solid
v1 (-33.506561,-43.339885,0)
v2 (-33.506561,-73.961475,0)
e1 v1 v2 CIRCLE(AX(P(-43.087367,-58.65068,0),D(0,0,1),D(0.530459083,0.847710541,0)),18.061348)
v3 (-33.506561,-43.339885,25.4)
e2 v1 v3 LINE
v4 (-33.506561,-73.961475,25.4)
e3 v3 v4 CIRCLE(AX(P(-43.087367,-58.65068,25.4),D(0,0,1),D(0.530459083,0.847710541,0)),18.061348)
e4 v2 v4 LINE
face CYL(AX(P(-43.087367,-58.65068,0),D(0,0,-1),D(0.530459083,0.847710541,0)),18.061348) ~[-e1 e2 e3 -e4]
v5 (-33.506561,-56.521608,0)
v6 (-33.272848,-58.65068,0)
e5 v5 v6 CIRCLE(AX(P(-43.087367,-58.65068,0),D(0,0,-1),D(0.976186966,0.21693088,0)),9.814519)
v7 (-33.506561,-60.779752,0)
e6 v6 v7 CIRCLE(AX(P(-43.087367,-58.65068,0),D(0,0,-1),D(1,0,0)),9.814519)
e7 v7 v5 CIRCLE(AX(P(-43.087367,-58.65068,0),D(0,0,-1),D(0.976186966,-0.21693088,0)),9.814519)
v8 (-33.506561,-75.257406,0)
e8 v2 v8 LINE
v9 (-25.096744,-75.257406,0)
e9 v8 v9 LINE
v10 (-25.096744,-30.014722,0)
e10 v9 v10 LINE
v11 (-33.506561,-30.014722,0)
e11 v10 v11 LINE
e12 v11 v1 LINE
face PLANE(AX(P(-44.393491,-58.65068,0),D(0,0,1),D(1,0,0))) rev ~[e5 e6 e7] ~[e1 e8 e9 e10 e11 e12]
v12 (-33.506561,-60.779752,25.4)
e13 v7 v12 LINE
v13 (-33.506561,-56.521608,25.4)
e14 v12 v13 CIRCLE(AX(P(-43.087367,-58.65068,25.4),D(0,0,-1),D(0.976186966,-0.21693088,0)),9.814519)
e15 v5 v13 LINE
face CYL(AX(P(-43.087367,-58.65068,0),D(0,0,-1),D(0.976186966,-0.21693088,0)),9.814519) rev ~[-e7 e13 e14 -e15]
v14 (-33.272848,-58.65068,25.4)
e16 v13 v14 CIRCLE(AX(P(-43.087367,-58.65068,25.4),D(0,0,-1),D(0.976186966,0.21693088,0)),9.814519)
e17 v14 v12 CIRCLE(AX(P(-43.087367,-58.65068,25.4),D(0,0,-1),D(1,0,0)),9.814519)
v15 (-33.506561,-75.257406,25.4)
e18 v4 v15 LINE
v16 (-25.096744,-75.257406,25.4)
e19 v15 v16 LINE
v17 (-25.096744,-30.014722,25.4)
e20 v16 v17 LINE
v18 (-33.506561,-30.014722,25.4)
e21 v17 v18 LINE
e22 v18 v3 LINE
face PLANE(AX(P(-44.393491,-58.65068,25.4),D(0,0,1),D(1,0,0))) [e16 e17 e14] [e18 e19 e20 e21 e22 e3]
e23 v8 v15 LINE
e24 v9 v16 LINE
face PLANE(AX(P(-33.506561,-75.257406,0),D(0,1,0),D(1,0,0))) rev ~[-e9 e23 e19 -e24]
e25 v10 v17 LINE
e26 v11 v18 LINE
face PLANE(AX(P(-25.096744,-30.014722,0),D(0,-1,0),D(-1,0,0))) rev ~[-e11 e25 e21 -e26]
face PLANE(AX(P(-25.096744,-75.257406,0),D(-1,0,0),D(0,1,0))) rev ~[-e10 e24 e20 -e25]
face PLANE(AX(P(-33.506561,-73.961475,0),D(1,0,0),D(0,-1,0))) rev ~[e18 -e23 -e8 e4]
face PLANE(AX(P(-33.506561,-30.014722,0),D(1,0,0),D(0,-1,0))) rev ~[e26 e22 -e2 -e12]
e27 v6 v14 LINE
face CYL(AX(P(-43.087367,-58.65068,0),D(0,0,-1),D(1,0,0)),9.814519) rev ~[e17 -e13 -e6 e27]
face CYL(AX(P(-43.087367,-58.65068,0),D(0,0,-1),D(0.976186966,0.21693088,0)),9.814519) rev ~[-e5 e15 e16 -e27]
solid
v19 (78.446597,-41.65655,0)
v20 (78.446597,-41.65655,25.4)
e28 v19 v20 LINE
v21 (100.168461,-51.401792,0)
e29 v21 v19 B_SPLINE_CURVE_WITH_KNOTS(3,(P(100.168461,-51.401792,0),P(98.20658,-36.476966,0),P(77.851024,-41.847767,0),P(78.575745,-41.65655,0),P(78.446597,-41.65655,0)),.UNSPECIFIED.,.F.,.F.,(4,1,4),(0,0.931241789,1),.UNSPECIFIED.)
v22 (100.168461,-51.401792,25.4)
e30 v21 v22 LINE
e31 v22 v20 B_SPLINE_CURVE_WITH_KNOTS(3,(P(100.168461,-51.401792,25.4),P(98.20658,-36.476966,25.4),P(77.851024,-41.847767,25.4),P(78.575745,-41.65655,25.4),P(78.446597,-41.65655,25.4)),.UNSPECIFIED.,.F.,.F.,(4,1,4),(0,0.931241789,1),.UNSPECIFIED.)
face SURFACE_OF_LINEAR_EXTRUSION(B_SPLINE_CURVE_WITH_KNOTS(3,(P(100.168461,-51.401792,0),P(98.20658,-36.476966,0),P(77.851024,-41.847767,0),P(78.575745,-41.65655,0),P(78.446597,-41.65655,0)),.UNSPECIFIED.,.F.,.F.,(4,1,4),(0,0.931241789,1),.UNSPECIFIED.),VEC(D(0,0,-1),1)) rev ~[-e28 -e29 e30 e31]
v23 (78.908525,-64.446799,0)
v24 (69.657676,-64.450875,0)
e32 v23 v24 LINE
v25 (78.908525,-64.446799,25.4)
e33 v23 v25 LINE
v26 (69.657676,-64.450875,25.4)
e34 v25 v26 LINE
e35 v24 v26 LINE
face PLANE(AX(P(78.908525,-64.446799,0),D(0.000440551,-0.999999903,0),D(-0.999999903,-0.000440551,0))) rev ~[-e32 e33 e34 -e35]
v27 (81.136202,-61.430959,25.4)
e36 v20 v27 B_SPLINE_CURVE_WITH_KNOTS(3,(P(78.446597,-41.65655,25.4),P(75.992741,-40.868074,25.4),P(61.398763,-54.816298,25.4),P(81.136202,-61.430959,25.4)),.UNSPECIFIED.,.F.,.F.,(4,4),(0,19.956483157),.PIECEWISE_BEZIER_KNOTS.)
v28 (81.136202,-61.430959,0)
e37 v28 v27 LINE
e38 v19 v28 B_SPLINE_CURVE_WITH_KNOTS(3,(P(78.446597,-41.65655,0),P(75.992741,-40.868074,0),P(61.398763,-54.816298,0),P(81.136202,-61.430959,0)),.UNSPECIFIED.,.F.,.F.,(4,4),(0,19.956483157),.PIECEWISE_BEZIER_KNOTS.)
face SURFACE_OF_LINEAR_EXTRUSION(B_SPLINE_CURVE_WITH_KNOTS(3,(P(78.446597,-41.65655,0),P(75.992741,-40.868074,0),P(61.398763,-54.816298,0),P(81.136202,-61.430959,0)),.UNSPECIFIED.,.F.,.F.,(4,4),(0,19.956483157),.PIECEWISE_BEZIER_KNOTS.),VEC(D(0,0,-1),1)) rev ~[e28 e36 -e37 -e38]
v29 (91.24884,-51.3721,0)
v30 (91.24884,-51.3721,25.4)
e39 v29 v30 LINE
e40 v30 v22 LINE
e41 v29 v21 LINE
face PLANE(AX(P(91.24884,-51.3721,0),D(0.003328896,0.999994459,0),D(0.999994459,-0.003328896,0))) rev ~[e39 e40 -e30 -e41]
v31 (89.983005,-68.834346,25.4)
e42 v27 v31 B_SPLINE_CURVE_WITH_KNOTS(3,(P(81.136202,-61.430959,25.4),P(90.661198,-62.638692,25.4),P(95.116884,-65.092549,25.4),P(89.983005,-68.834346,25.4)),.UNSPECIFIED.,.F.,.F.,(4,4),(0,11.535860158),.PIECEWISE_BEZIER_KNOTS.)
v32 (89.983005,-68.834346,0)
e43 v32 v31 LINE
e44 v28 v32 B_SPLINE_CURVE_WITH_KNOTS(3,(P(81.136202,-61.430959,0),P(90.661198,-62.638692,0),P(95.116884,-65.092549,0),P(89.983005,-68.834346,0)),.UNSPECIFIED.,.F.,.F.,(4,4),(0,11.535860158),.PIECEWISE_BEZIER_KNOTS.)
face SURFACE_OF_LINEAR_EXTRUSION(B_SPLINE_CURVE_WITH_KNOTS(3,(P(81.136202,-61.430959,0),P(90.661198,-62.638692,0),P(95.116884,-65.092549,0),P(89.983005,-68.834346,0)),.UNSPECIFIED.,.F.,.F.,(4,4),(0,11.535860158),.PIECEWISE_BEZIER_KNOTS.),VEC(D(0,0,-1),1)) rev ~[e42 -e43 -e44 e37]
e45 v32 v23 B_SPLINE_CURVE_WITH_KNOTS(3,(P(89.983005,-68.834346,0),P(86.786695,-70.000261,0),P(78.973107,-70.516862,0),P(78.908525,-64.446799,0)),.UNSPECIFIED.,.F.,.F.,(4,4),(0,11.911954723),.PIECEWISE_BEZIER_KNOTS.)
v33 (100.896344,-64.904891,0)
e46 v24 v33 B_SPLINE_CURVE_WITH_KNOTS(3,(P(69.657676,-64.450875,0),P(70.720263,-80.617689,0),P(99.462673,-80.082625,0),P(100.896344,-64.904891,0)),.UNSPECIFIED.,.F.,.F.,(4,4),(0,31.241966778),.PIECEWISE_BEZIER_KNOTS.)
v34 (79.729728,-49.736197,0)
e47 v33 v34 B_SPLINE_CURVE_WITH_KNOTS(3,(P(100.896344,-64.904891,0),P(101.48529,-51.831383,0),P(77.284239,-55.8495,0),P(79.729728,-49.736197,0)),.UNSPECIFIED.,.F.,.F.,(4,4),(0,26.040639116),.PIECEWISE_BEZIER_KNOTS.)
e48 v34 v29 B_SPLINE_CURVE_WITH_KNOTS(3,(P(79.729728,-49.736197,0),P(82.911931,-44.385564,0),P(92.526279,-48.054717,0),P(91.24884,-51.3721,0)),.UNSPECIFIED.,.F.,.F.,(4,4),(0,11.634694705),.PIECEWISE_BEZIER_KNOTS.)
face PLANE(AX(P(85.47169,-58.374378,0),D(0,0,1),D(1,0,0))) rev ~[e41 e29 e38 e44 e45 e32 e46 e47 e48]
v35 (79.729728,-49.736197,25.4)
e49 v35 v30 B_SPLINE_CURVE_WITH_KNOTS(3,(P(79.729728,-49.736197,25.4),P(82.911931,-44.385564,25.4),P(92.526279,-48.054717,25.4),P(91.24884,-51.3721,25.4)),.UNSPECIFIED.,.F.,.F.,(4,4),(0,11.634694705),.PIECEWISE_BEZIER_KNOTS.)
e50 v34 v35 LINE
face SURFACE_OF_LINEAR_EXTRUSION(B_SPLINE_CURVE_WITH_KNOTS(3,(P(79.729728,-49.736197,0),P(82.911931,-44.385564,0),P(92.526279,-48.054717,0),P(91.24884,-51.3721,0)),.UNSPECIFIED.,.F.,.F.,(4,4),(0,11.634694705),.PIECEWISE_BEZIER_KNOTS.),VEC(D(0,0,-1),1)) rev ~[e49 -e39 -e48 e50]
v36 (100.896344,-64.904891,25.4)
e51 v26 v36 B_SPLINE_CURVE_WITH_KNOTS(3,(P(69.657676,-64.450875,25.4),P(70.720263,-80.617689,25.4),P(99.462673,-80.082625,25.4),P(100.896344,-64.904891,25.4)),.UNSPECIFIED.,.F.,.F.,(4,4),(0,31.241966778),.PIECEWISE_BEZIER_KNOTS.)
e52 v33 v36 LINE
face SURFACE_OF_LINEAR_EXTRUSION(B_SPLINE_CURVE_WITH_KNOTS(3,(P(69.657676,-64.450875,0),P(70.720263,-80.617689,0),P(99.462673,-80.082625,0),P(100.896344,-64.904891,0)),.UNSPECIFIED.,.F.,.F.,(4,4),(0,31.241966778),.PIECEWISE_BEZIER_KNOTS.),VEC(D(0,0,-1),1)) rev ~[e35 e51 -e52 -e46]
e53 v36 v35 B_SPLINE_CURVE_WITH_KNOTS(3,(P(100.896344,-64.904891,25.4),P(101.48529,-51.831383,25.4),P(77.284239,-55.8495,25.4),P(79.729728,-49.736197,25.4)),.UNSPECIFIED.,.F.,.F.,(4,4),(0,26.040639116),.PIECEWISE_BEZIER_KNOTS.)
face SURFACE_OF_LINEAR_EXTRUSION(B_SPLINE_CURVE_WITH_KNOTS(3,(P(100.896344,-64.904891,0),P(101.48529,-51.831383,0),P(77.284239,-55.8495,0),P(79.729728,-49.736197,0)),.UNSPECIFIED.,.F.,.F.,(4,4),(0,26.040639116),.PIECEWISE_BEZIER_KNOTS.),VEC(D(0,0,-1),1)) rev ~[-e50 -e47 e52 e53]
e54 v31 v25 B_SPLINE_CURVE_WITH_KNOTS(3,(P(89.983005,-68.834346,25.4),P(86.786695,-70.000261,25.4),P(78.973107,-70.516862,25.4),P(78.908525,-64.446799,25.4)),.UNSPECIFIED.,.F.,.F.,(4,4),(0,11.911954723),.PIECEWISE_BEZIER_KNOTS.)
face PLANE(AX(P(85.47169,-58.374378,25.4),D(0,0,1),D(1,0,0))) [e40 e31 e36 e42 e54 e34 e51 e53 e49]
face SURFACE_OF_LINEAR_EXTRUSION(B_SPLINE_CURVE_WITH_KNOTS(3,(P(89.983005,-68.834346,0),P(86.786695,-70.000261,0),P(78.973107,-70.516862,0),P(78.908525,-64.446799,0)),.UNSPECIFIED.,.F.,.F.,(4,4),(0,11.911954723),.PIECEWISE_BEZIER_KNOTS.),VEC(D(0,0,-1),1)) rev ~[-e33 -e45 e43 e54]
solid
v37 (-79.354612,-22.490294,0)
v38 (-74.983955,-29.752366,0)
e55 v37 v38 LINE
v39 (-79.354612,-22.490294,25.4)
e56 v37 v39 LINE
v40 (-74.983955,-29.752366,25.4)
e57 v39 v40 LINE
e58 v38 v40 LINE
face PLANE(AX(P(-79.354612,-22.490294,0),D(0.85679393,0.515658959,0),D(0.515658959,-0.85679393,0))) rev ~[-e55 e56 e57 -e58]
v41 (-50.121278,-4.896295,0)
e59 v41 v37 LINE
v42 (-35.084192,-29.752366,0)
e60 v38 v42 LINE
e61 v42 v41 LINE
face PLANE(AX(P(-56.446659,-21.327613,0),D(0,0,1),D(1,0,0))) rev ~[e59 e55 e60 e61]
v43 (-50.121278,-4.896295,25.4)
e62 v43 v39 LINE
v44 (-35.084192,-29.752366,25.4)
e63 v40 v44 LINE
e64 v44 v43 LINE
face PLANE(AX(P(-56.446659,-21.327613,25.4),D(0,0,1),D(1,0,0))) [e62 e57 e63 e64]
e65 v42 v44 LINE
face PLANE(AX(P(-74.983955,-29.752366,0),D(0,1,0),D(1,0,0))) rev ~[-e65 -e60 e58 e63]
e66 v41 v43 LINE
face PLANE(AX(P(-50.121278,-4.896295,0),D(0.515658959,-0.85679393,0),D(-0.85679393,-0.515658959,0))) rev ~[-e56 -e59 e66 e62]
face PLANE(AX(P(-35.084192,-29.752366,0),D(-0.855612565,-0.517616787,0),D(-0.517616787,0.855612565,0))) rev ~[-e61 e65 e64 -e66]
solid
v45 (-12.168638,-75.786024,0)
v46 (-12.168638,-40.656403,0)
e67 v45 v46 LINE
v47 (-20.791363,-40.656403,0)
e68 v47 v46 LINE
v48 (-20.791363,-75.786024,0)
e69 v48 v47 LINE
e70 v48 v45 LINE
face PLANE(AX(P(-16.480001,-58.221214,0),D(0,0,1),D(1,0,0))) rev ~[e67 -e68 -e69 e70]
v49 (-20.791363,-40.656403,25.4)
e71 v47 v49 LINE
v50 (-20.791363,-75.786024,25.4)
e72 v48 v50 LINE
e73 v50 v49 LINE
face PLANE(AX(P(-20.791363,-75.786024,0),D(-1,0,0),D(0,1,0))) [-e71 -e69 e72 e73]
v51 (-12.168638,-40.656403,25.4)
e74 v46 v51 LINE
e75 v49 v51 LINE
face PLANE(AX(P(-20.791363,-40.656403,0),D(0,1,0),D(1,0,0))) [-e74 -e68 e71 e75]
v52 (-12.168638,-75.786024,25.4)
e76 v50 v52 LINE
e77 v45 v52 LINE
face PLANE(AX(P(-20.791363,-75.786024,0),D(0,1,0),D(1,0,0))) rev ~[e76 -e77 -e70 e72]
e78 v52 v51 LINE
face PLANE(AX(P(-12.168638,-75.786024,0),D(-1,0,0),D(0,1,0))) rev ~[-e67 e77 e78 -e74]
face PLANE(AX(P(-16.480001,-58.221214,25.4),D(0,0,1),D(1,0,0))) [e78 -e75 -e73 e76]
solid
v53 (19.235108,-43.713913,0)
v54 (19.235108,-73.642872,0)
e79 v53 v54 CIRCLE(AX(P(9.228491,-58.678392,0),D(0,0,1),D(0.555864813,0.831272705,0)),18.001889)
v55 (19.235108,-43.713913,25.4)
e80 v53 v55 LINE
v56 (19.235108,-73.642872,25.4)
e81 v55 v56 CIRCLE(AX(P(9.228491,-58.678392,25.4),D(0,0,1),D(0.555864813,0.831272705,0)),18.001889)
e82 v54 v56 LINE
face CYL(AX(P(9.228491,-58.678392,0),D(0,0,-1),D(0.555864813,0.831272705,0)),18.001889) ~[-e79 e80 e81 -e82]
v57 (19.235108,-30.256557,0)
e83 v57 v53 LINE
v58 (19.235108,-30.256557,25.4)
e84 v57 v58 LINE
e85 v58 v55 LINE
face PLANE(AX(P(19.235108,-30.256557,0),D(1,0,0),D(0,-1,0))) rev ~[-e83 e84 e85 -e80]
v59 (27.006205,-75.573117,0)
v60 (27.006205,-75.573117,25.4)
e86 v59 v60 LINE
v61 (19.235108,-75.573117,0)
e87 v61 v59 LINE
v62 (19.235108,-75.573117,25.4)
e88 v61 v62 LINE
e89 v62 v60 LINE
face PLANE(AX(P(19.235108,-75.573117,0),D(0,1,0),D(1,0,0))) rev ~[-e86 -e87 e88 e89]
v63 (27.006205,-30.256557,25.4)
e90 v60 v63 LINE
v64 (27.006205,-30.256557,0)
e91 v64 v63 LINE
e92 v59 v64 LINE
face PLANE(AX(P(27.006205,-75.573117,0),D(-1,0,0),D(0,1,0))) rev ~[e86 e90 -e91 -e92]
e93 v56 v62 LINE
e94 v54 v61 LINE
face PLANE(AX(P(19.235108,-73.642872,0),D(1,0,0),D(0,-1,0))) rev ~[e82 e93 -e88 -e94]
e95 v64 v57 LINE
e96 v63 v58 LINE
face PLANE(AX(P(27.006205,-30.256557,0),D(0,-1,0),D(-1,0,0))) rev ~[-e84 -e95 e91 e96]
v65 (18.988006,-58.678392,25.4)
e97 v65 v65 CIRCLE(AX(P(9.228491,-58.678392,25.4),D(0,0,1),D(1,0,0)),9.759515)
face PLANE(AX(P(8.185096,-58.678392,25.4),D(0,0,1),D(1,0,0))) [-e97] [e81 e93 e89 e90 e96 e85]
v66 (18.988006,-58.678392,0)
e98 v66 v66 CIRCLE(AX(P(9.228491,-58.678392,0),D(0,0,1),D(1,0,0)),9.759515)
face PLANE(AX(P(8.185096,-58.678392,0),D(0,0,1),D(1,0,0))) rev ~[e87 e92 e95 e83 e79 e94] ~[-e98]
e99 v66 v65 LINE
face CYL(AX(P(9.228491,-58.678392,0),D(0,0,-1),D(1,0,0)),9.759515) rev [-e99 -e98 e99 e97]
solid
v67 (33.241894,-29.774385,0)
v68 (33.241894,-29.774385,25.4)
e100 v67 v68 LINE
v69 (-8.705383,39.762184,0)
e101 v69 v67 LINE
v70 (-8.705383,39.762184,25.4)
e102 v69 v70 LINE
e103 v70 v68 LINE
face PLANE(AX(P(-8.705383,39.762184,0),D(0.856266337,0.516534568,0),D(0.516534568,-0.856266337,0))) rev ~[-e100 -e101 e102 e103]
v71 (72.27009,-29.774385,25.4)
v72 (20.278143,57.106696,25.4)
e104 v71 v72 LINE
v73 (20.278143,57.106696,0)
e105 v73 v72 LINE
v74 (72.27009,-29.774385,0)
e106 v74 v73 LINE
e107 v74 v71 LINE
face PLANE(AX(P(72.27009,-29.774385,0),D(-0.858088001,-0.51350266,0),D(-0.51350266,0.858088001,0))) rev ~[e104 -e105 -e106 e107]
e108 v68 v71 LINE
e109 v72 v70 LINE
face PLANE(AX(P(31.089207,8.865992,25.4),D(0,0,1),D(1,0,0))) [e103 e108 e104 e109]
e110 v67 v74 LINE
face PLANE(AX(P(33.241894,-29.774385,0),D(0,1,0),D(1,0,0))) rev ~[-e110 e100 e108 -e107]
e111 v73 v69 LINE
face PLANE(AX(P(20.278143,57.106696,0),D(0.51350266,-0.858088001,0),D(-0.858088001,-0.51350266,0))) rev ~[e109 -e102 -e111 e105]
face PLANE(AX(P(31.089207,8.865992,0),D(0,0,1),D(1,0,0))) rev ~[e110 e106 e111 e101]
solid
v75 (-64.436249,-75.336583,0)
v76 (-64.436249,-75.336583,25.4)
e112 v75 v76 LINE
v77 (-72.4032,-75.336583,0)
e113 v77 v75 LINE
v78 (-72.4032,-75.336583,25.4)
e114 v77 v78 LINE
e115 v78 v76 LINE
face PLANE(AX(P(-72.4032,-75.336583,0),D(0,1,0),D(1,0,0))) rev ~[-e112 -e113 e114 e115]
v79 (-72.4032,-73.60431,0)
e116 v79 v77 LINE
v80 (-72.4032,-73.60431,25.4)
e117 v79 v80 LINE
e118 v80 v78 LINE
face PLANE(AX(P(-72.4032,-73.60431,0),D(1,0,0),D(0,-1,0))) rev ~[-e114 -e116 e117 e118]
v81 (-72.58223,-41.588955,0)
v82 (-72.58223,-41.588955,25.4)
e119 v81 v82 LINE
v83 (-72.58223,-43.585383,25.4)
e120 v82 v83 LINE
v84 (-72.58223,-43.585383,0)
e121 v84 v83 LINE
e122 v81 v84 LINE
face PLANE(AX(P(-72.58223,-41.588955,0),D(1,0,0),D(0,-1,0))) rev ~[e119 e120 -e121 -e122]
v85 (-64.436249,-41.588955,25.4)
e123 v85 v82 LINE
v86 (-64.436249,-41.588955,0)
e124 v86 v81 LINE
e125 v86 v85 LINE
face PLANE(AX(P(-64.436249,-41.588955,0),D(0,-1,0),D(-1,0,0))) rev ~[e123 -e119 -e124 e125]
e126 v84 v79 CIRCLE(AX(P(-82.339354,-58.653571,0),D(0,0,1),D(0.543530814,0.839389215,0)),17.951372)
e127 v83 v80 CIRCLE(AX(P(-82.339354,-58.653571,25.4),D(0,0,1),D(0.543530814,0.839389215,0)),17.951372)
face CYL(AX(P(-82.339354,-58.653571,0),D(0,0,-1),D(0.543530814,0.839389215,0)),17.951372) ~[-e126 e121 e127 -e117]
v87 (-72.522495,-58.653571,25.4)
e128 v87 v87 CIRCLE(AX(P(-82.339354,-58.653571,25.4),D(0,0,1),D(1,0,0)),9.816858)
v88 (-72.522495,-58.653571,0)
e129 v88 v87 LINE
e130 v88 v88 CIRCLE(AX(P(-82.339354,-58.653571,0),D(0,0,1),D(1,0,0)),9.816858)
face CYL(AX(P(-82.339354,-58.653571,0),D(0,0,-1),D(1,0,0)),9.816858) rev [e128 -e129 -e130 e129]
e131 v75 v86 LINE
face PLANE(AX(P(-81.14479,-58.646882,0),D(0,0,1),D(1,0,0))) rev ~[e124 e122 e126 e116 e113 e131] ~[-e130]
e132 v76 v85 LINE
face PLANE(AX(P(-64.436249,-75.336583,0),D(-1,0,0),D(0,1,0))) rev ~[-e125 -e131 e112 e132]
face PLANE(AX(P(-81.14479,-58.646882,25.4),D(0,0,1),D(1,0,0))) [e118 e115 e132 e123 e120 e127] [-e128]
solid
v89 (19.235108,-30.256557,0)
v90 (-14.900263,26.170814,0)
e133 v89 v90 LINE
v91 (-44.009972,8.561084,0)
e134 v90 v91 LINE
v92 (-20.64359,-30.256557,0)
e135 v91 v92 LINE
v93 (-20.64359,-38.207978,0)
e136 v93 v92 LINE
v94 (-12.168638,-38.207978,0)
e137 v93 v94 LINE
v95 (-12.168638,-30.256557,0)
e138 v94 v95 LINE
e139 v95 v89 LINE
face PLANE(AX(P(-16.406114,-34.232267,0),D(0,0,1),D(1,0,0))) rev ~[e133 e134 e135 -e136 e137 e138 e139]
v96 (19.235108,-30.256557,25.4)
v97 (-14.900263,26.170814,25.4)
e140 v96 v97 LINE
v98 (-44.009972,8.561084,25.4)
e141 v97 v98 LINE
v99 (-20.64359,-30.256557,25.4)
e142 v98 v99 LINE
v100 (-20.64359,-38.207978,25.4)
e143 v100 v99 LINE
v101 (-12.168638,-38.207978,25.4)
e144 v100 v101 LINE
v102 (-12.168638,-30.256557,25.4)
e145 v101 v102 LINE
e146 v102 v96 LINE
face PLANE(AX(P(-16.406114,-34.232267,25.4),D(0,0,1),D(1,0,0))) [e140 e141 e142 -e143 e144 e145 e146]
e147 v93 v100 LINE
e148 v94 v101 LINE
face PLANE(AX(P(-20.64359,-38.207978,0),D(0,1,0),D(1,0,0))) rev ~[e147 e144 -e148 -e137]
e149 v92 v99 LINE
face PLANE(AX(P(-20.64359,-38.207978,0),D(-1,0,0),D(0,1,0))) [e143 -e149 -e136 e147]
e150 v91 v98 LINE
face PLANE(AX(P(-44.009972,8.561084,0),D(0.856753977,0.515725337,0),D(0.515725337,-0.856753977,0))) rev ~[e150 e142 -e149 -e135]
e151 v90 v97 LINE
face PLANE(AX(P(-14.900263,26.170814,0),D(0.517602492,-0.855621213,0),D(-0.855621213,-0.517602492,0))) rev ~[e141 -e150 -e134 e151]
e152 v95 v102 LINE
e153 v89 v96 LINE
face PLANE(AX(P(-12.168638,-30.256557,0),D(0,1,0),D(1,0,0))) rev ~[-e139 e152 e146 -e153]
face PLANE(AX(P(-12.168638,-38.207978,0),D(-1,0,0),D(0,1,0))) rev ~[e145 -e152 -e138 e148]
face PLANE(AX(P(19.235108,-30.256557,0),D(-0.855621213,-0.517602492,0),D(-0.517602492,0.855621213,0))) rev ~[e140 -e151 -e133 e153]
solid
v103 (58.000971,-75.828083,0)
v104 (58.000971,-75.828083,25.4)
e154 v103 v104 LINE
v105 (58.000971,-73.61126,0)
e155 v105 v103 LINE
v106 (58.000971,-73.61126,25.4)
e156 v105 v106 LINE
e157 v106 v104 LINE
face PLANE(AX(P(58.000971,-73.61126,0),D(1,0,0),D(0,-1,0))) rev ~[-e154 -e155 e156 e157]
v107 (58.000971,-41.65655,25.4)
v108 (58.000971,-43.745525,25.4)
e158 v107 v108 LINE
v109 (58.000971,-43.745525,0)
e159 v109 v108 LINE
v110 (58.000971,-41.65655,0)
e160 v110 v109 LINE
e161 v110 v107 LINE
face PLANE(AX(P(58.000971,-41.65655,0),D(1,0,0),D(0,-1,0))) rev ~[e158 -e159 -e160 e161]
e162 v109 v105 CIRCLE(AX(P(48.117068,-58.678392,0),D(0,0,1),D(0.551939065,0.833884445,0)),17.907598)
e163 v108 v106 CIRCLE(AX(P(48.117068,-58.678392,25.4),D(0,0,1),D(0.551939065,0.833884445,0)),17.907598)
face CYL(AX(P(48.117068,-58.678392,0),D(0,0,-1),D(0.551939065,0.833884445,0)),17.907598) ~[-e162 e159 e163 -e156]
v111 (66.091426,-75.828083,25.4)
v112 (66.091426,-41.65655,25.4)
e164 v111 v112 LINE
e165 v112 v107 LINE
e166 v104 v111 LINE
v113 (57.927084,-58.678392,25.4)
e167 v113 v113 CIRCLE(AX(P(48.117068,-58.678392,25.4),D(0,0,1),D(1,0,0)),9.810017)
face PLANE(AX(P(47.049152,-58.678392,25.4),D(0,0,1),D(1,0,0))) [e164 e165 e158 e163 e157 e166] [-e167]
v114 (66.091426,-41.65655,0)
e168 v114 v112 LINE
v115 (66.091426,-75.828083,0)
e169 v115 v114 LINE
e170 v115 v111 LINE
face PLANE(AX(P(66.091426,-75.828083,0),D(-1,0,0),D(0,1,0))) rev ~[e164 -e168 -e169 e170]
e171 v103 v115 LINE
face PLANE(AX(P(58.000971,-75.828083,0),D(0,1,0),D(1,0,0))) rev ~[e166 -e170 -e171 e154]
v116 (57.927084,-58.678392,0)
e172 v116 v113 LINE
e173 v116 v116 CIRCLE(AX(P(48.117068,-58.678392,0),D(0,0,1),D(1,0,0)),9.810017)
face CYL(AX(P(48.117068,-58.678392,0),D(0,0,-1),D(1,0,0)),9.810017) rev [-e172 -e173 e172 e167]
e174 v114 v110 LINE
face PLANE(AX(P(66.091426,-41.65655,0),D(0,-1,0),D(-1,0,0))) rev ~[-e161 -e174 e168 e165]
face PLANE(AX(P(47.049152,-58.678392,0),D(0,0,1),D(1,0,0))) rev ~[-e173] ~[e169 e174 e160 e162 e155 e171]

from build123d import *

# Parameters (mm, degrees)
F0_R     = 9.8168583777
F1_DEPTH = 25.4
F0_W     = 8.6227245629
F0_H     = 35.1296216249
F0_W_2   = 8.4749514465
F0_H_2   = 7.9514212463
F0_R_2   = 9.7595146702
F0_R_3   = 9.8100166277


with BuildPart() as f1:
    # F0 (on Top) → F1 (new body)
    with BuildSketch(Plane.XY):
        with BuildLine():
            ThreePointArc((-64.4362494349, -57.3380434245), (-66.8940964115, -49.5050308039), (-72.5822299719, -43.5853825816))
            ThreePointArc((-72.5822299719, -43.5853825816), (-100.2904067139, -58.7606290674), (-72.4031999707, -73.6043100237))
            ThreePointArc((-72.4031999707, -73.6043100237), (-66.8398110404, -67.709835531), (-64.4362494349, -59.9690979987))
            Line((-64.4362494349, -59.9690979987), (-64.4362494349, -57.3380434245))
        make_face()
        with Locations((-82.3393538594, -58.6535707116)):
            Circle(F0_R, mode=Mode.SUBTRACT)
        with BuildLine():
            Line((-72.5822299719, -41.5889546275), (-72.5822299719, -43.5853825816))
            ThreePointArc((-72.5822299719, -43.5853825816), (-66.8940964115, -49.5050308039), (-64.4362494349, -57.3380434245))
            Line((-64.4362494349, -57.3380434245), (-64.4362494349, -41.5889546275))
            Line((-64.4362494349, -41.5889546275), (-72.5822299719, -41.5889546275))
        make_face()
        with BuildLine():
            ThreePointArc((-64.4362494349, -59.9690979987), (-66.8398110404, -67.709835531), (-72.4031999707, -73.6043100237))
            Line((-72.4031999707, -73.6043100237), (-72.4031999707, -75.3365829587))
            Line((-72.4031999707, -75.3365829587), (-64.4362494349, -75.3365829587))
            Line((-64.4362494349, -75.3365829587), (-64.4362494349, -59.9690979987))
        make_face()
    extrude(amount=F1_DEPTH)


with BuildPart() as f1b:
    # F0 (on Top) → F1, piece 2 (new body)
    with BuildSketch(Plane.XY):
        with BuildLine():
            ThreePointArc((-33.5065610707, -60.7797522098), (-52.9018863457, -58.6506798863), (-33.5065610707, -56.5216075629))
            Line((-33.5065610707, -56.5216075629), (-33.5065610707, -43.33988514))
            ThreePointArc((-33.5065610707, -43.33988514), (-61.1487145763, -58.6506798863), (-33.5065610707, -73.9614746327))
            Line((-33.5065610707, -73.9614746327), (-33.5065610707, -60.7797522098))
        make_face()
        with BuildLine():
            ThreePointArc((-33.5065610707, -56.5216075629), (-33.3314509237, -57.5797491056), (-33.2728475911, -58.6506798863))
            ThreePointArc((-33.2728475911, -58.6506798863), (-33.3314509237, -59.7216106671), (-33.5065610707, -60.7797522098))
            Line((-33.5065610707, -60.7797522098), (-33.5065610707, -73.9614746327))
            ThreePointArc((-33.5065610707, -73.9614746327), (-27.6904736277, -68.0924992486), (-25.0967442989, -60.2474808693))
            Line((-25.0967442989, -60.2474808693), (-25.0967442989, -57.0538789034))
            ThreePointArc((-25.0967442989, -57.0538789034), (-27.6904736277, -49.2088605241), (-33.5065610707, -43.33988514))
            Line((-33.5065610707, -43.33988514), (-33.5065610707, -56.5216075629))
        make_face()
        with BuildLine():
            Line((-33.5065610707, -30.0147216767), (-33.5065610707, -43.33988514))
            ThreePointArc((-33.5065610707, -43.33988514), (-27.6904736277, -49.2088605241), (-25.0967442989, -57.0538789034))
            Line((-25.0967442989, -57.0538789034), (-25.0967442989, -30.0147216767))
            Line((-25.0967442989, -30.0147216767), (-33.5065610707, -30.0147216767))
        make_face()
        with BuildLine():
            ThreePointArc((-25.0967442989, -60.2474808693), (-27.6904736277, -68.0924992486), (-33.5065610707, -73.9614746327))
            Line((-33.5065610707, -73.9614746327), (-33.5065610707, -75.2574056387))
            Line((-33.5065610707, -75.2574056387), (-25.0967442989, -75.2574056387))
            Line((-25.0967442989, -75.2574056387), (-25.0967442989, -60.2474808693))
        make_face()
    extrude(amount=F1_DEPTH)


with BuildPart() as f1c:
    # F0 (on Top) → F1, piece 3 (new body)
    with BuildSketch(Plane.XY):
        with Locations((-16.4800006896, -58.2212135196)):
            Rectangle(F0_W, F0_H)
    extrude(amount=F1_DEPTH)


with BuildPart() as f1d:
    # F0 (on Top) → F1, piece 4 (new body)
    with BuildSketch(Plane.XY):
        with Locations((-16.4061141315, -34.232267387)):
            Rectangle(F0_W_2, F0_H_2)
        Polygon((-14.9002628893, 26.1708135426), (-44.0099721158, 8.5610841344), (-20.6435898547, -30.2565567639), (-12.1686384082, -30.2565567639), (19.2351080477, -30.2565567639), align=None)
    extrude(amount=F1_DEPTH)


with BuildPart() as f1e:
    # F0 (on Top) → F1, piece 5 (new body)
    with BuildSketch(Plane.XY):
        with BuildLine():
            Line((19.2351080477, -73.6428715184), (19.2351080477, -43.7139131233))
            ThreePointArc((19.2351080477, -43.7139131233), (-8.7733980627, -58.6783923209), (19.2351080477, -73.6428715184))
        make_face()
        with Locations((9.2284912243, -58.6783923209)):
            Circle(F0_R_2, mode=Mode.SUBTRACT)
        with BuildLine():
            ThreePointArc((27.0062051713, -55.8462721394), (24.3873431899, -48.9687463443), (19.2351080477, -43.7139131233))
            Line((19.2351080477, -43.7139131233), (19.2351080477, -73.6428715184))
            ThreePointArc((19.2351080477, -73.6428715184), (24.3873431899, -68.3880382974), (27.0062051713, -61.5105125023))
            Line((27.0062051713, -61.5105125023), (27.0062051713, -55.8462721394))
        make_face()
        with BuildLine():
            Line((27.0062051713, -30.2565567639), (19.2351080477, -30.2565567639))
            Line((19.2351080477, -30.2565567639), (19.2351080477, -43.7139131233))
            ThreePointArc((19.2351080477, -43.7139131233), (24.3873431899, -48.9687463443), (27.0062051713, -55.8462721394))
            Line((27.0062051713, -55.8462721394), (27.0062051713, -30.2565567639))
        make_face()
        with BuildLine():
            ThreePointArc((27.0062051713, -61.5105125023), (24.3873431899, -68.3880382974), (19.2351080477, -73.6428715184))
            Line((19.2351080477, -73.6428715184), (19.2351080477, -75.5731165409))
            Line((19.2351080477, -75.5731165409), (27.0062051713, -75.5731165409))
            Line((27.0062051713, -75.5731165409), (27.0062051713, -61.5105125023))
        make_face()
    extrude(amount=F1_DEPTH)


with BuildPart() as f1f:
    # F0 (on Top) → F1, piece 6 (new body)
    with BuildSketch(Plane.XY):
        with BuildLine():
            Line((58.0009706318, -73.6112598492), (58.0009706318, -43.7455247925))
            ThreePointArc((58.0009706318, -43.7455247925), (30.2094695434, -58.6783923209), (58.0009706318, -73.6112598492))
        make_face()
        with Locations((48.1170676649, -58.6783923209)):
            Circle(F0_R_3, mode=Mode.SUBTRACT)
        with BuildLine():
            ThreePointArc((58.0009706318, -73.6112598492), (63.891715564, -67.1543910312), (66.0246657863, -58.6783923209))
            ThreePointArc((66.0246657863, -58.6783923209), (63.891715564, -50.2023936105), (58.0009706318, -43.7455247925))
            Line((58.0009706318, -43.7455247925), (58.0009706318, -73.6112598492))
        make_face()
        with BuildLine():
            ThreePointArc((58.0009706318, -43.7455247925), (63.891715564, -50.2023936105), (66.0246657863, -58.6783923209))
            ThreePointArc((66.0246657863, -58.6783923209), (63.891715564, -67.1543910312), (58.0009706318, -73.6112598492))
            Line((58.0009706318, -73.6112598492), (58.0009706318, -75.8280828595))
            Line((58.0009706318, -75.8280828595), (66.0914257169, -75.8280828595))
            Line((66.0914257169, -75.8280828595), (66.0914257169, -41.65655002))
            Line((66.0914257169, -41.65655002), (58.0009706318, -41.65655002))
            Line((58.0009706318, -41.65655002), (58.0009706318, -43.7455247925))
        make_face()
    extrude(amount=F1_DEPTH)


with BuildPart() as f1g:
    # F0 (on Top) → F1, piece 7 (new body)
    with BuildSketch(Plane.XY):
        with BuildLine():
            Line((78.9085254073, -64.4467994571), (69.6576759219, -64.4508749247))
            add(Edge.make_bspline(
                [(69.6576759219, -64.4508749247), (70.7202628255, -80.6176885962), (99.462673068, -80.0826251507), (100.8963435888, -64.9048909545)],
                knots=[0, 0, 0, 0, 31.241966778, 31.241966778, 31.241966778, 31.241966778], degree=3))
            add(Edge.make_bspline(
                [(100.8963435888, -64.9048909545), (101.4852896333, -51.8313832581), (77.2842392325, -55.8495000005), (79.7297279685, -49.7361972484)],
                knots=[0, 0, 0, 0, 26.040639116, 26.040639116, 26.040639116, 26.040639116], degree=3))
            add(Edge.make_bspline(
                [(79.7297279685, -49.7361972484), (82.9119309783, -44.3855635822), (92.5262793899, -48.0547174811), (91.2488400936, -51.3720996678)],
                knots=[0, 0, 0, 0, 11.634694705, 11.634694705, 11.634694705, 11.634694705], degree=3))
            Line((91.2488400936, -51.3720996678), (100.1684612964, -51.4017923224))
            add(Edge.make_bspline(
                [(100.1684612964, -51.4017923224), (98.2065796852, -36.4769659936), (77.8510241745, -41.8477672392), (78.575745225, -41.65655002), (78.4465968609, -41.65655002)],
                knots=[0, 0, 0, 0, 0.9312417891, 1, 1, 1, 1], degree=3))
            add(Edge.make_bspline(
                [(78.4465968609, -41.65655002), (75.9927406907, -40.8680737019), (61.3987632096, -54.8162981868), (81.1362018826, -61.4309588563)],
                knots=[0, 0, 0, 0, 19.956483157, 19.956483157, 19.956483157, 19.956483157], degree=3))
            add(Edge.make_bspline(
                [(81.1362018826, -61.4309588563), (90.6611979008, -62.6386923625), (95.1168835163, -65.092548728), (89.9830050553, -68.8343461351)],
                knots=[0, 0, 0, 0, 11.5358601577, 11.5358601577, 11.5358601577, 11.5358601577], degree=3))
            add(Edge.make_bspline(
                [(89.9830050553, -68.8343461351), (86.7866948247, -70.0002610683), (78.9731070399, -70.5168619752), (78.9085254073, -64.4467994571)],
                knots=[0, 0, 0, 0, 11.9119547231, 11.9119547231, 11.9119547231, 11.9119547231], degree=3))
        make_face()
    extrude(amount=F1_DEPTH)


with BuildPart() as f1h:
    # F0 (on Top) → F1, piece 8 (new body)
    with BuildSketch(Plane.XY):
        Polygon((20.2781427652, 57.1066960692), (-8.7053831667, 39.7621840239), (33.2418940961, -29.7743845731), (72.2700899582, -29.7743845731), align=None)
    extrude(amount=F1_DEPTH)


with BuildPart() as f1i:
    # F0 (on Top) → F1, piece 9 (new body)
    with BuildSketch(Plane.XY):
        Polygon((-50.1212775707, -4.8962952569), (-79.3546124484, -22.4902936408), (-74.9839549715, -29.7523662448), (-74.2651075125, -29.7523662448), (-73.7612769008, -29.7523662448), (-35.0841917098, -29.7523662448), align=None)
    extrude(amount=F1_DEPTH)


solid = Compound([f1.part, f1b.part, f1c.part, f1d.part, f1e.part, f1f.part, f1g.part, f1h.part, f1i.part])
